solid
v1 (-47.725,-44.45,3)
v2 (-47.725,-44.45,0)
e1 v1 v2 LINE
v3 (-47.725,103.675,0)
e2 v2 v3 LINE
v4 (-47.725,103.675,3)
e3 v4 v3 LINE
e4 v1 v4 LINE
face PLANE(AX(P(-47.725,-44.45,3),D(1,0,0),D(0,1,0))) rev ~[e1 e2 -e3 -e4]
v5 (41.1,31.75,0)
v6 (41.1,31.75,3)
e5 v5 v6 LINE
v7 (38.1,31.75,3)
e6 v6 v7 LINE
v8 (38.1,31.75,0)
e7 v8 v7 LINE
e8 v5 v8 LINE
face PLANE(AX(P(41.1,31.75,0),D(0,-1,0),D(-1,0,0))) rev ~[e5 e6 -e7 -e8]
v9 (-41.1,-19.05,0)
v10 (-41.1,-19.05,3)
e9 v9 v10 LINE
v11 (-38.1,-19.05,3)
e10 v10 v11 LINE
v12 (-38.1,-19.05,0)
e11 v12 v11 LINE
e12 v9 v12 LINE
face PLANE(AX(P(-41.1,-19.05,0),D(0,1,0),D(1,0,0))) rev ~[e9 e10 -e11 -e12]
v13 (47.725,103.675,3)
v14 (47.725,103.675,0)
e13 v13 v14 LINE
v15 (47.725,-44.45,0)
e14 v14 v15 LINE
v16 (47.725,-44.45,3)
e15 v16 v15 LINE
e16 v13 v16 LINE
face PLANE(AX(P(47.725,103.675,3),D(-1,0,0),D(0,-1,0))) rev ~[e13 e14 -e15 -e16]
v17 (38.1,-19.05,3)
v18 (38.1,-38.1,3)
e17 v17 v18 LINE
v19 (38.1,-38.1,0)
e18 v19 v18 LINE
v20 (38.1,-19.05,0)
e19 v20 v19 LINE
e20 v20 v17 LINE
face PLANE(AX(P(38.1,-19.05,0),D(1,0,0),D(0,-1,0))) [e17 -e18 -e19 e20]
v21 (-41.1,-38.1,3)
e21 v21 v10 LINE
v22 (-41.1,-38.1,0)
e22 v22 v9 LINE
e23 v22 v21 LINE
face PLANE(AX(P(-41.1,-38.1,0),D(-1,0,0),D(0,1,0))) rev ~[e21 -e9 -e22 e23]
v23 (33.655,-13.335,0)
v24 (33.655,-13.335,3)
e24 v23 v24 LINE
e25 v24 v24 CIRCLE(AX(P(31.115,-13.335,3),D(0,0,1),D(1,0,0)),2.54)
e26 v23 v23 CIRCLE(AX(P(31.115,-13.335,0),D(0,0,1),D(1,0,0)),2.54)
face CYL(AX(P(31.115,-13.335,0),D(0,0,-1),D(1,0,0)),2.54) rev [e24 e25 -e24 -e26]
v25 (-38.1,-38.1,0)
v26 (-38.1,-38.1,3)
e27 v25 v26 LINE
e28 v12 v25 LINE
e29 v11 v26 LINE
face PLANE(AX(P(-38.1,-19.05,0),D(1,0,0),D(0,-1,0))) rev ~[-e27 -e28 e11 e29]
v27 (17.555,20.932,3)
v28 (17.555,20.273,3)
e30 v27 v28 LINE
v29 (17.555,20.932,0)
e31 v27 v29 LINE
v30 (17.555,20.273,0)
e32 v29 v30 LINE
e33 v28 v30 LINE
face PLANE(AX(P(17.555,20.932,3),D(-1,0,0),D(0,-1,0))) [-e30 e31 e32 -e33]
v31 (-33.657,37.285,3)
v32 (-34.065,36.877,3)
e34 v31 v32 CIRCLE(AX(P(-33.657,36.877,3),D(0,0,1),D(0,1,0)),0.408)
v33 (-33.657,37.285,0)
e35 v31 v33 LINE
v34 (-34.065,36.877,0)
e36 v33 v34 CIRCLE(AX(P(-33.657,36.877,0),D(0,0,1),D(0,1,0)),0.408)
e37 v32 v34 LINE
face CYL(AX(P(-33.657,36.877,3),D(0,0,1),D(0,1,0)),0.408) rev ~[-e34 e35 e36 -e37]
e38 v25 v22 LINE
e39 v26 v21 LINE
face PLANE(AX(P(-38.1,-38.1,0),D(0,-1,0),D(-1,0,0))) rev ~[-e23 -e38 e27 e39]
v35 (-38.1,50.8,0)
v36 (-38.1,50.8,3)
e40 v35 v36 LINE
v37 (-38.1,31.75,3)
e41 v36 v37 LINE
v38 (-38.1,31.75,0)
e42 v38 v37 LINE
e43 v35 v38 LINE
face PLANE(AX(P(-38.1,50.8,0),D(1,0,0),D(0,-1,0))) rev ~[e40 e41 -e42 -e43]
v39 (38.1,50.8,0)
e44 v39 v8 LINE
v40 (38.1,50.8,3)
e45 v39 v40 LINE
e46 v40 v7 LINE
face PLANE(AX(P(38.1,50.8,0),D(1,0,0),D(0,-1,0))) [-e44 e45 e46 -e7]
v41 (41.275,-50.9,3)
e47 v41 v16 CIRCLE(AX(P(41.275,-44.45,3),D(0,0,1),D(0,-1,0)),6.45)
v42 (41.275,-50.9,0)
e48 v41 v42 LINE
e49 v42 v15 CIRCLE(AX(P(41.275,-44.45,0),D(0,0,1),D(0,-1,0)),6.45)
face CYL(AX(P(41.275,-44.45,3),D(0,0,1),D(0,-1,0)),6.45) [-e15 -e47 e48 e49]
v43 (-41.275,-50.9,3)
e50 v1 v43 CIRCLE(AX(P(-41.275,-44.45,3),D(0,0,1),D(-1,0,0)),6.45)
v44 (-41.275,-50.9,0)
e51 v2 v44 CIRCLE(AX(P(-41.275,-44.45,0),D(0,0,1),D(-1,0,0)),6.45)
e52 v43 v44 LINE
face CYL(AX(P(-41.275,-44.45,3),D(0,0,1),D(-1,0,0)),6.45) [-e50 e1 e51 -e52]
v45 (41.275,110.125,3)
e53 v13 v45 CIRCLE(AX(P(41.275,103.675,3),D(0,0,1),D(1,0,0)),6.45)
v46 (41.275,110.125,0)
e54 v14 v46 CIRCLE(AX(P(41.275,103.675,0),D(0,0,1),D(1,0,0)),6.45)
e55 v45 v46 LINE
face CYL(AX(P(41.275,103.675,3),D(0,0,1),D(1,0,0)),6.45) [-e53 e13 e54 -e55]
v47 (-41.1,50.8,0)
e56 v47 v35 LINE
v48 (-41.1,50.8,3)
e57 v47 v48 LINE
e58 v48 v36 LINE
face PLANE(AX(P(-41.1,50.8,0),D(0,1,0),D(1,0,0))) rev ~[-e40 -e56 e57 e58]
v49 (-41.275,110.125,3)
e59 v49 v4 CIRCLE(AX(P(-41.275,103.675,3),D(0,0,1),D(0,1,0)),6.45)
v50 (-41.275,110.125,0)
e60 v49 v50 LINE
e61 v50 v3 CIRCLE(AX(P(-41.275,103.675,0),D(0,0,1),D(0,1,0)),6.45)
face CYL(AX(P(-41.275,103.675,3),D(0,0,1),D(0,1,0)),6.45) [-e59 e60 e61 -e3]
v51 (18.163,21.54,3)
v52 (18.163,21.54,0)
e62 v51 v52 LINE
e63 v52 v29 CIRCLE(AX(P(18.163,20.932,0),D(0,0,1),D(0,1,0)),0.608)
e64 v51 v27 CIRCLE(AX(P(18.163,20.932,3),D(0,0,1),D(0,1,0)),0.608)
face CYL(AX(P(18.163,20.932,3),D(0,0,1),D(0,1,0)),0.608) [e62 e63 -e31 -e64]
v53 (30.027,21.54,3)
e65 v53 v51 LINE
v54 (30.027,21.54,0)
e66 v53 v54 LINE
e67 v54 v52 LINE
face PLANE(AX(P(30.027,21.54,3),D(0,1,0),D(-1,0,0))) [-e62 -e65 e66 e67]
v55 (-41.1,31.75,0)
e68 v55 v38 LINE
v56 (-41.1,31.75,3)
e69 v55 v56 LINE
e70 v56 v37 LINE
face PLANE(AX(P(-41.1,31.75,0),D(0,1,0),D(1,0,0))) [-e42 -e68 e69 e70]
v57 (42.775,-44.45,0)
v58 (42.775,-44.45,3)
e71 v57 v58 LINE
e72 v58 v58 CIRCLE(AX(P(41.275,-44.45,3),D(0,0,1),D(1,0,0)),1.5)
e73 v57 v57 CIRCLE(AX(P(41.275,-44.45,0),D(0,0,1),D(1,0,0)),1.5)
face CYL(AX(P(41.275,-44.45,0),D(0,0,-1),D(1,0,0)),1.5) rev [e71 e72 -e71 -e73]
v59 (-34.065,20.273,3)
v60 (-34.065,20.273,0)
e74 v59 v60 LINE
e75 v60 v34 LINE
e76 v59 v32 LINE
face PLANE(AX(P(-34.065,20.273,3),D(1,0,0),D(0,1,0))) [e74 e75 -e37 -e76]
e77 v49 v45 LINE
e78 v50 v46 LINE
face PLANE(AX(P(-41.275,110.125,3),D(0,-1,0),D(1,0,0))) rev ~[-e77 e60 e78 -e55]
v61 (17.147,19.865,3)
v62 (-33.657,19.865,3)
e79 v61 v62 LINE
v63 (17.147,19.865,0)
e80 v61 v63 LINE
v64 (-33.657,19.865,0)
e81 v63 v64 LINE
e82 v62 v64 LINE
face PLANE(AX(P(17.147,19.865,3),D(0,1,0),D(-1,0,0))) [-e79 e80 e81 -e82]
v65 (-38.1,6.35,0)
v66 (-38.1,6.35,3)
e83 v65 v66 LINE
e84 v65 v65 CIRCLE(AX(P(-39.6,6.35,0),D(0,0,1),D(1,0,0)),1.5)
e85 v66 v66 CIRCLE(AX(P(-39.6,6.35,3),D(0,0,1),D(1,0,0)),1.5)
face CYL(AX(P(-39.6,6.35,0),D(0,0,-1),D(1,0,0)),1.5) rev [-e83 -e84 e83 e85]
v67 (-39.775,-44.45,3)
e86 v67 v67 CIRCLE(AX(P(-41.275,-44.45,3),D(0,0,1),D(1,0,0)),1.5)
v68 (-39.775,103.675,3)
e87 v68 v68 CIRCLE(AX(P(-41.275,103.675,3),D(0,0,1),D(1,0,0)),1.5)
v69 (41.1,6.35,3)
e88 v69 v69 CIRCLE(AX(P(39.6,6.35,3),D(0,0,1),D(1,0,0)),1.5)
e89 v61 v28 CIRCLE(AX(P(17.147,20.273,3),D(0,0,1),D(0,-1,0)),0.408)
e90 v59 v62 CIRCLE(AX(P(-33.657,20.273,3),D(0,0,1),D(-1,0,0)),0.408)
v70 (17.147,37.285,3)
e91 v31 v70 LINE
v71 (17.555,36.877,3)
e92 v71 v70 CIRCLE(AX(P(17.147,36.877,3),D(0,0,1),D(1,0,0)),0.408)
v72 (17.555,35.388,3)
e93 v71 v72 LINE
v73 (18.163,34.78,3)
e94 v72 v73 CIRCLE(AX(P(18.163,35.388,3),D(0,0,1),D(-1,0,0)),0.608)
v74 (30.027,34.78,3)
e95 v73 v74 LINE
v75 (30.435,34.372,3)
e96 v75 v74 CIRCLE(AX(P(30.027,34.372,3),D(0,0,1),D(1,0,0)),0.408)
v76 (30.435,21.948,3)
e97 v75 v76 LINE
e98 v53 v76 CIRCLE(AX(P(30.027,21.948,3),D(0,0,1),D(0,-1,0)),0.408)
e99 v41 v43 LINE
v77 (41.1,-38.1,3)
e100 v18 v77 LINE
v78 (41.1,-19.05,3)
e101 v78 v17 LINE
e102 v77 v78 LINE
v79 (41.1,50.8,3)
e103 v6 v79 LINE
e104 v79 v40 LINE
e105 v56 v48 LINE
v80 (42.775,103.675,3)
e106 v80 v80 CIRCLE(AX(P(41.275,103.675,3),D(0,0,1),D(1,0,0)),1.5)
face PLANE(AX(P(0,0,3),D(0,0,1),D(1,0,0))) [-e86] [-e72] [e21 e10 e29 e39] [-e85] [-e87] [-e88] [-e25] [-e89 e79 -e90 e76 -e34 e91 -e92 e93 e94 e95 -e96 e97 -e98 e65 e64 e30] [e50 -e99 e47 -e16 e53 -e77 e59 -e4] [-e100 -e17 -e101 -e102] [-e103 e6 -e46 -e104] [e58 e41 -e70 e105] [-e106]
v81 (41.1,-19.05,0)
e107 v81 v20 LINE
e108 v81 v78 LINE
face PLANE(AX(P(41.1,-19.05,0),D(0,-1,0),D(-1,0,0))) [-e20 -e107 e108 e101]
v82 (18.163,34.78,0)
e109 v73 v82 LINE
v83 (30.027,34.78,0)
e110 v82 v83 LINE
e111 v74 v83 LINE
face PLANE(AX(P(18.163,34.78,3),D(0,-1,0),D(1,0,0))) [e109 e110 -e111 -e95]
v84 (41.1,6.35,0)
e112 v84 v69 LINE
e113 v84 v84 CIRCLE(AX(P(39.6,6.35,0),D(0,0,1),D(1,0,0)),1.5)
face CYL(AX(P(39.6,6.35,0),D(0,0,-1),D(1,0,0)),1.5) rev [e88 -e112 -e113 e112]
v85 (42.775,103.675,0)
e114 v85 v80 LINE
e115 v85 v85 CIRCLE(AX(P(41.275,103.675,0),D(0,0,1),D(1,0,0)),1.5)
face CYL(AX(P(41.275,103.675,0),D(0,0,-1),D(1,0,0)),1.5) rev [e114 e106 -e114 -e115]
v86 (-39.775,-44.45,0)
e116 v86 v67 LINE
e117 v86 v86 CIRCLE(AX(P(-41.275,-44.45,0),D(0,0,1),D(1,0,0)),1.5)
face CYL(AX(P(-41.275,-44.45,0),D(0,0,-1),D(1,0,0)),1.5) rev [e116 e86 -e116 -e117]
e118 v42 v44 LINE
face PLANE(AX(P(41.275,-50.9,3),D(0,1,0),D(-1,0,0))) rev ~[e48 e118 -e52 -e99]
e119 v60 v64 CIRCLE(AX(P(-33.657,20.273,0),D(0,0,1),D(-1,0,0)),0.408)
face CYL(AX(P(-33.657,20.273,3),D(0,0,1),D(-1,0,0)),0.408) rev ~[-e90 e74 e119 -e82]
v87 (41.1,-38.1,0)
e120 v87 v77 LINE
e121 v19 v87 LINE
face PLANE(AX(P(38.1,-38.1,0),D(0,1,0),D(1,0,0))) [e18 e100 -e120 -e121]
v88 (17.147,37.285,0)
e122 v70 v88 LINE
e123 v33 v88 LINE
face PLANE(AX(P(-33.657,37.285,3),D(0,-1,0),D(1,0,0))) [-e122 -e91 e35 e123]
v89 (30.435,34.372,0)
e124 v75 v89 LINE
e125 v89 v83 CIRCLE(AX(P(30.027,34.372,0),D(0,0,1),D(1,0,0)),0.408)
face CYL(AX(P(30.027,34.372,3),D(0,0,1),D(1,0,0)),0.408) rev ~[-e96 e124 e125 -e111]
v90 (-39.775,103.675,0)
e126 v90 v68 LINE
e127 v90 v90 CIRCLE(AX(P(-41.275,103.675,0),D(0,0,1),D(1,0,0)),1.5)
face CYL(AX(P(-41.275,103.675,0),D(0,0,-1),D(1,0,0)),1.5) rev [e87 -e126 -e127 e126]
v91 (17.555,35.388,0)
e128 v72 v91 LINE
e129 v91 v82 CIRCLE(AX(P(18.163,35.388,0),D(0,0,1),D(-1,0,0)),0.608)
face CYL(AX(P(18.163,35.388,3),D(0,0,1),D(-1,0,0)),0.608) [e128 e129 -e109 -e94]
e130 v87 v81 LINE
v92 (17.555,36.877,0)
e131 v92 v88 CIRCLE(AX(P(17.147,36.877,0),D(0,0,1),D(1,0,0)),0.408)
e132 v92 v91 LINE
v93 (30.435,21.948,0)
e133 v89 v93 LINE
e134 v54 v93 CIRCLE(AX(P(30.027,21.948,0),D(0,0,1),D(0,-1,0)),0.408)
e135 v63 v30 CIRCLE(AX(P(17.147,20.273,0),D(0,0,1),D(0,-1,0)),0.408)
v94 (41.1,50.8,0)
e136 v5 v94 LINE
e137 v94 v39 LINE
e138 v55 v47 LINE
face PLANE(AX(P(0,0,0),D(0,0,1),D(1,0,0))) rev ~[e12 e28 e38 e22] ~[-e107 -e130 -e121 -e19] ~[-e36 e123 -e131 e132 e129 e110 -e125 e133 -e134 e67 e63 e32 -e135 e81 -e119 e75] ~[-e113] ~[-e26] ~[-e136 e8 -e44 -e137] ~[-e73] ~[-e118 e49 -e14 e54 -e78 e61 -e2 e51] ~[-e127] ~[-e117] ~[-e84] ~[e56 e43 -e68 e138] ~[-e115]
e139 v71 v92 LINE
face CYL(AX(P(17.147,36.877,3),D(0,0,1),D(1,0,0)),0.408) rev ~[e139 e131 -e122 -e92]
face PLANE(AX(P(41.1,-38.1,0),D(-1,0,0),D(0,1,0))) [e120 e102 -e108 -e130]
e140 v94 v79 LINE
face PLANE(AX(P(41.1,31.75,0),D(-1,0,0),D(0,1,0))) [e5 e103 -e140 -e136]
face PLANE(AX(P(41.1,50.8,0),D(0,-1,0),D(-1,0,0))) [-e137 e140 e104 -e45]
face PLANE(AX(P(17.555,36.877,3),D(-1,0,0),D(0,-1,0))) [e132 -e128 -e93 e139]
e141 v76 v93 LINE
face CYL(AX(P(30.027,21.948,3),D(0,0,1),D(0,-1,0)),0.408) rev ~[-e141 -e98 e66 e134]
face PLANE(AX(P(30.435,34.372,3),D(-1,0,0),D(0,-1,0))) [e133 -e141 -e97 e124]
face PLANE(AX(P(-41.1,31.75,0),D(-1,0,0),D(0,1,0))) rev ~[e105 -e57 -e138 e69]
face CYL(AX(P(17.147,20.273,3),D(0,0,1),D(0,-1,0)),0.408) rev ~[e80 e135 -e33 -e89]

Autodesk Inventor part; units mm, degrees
ref_plane "YZ Plane" through (0, 0, 0) normal (1, 0, 0) x (0, 1, 0)
ref_plane "XZ Plane" through (0, 0, 0) normal (0, 1, 0) x (-1, 0, 0)
ref_plane "XY Plane" through (0, 0, 0) normal (0, 0, 1) x (1, 0, 0)
sketch "Sketch1" plane through (0, 0, 0) normal (0, 0, 1) x (1, 0, 0)
  line L0 (30.48, -47.625) -> (-30.48, -47.625) construction
  line L1 (-34.925, -43.18) -> (-34.925, 43.18) construction
  line L2 (-30.48, 47.625) -> (30.48, 47.625) construction
  line L3 (34.925, 43.18) -> (34.925, -43.18) construction
  line L4 (34.925, -47.625) -> (-34.925, 47.625) construction
  line L5 (-34.925, -47.625) -> (34.925, 47.625) construction
  arc A0 (-30.48, 47.625) -> (-34.925, 43.18) centre (-30.48, 43.18) ccw construction
  arc A1 (34.925, 43.18) -> (30.48, 47.625) centre (30.48, 43.18) ccw construction
  arc A2 (30.48, -47.625) -> (34.925, -43.18) centre (30.48, -43.18) ccw construction
  arc A3 (-34.925, -43.18) -> (-30.48, -47.625) centre (-30.48, -43.18) ccw construction
  circle A4 centre (-30.48, 43.18) radius 1.5
  circle A5 centre (30.48, 43.18) radius 1.5
  circle A6 centre (-30.48, -43.18) radius 1.5
  circle A7 centre (30.48, -43.18) radius 1.5
  circle A8 centre (0, -22.86) radius 6.35
  line L6 (-3.175, -7.62) -> (3.175, -7.62) construction
  line L7 (-3.175, -12.065) -> (3.175, -12.065)
  line L8 (3.175, -3.175) -> (-3.175, -3.175)
  arc A9 (-3.175, -3.175) -> (-3.175, -12.065) centre (-3.175, -7.62) ccw
  arc A10 (3.175, -12.065) -> (3.175, -3.175) centre (3.175, -7.62) ccw
  line L9 (-35.3, 57.15) -> (35.3, 57.15) construction
  line L10 (35.3, 57.15) -> (35.3, 106.85) construction
  line L11 (35.3, 106.85) -> (-35.3, 106.85) construction
  line L12 (-35.3, 106.85) -> (-35.3, 57.15) construction
  circle A11 centre (-33.25, 104.75) radius 1.25
  circle A12 centre (33.25, 104.75) radius 1.25
  circle A13 centre (33.25, 59.25) radius 1.25
  circle A14 centre (-33.25, 59.25) radius 1.25
  line L13 (-41.275, 110.025) -> (41.275, 110.025)
  line L14 (47.625, 103.675) -> (47.625, -44.45)
  line L15 (41.275, -50.8) -> (-41.275, -50.8)
  line L16 (-47.625, -44.45) -> (-47.625, 103.675)
  arc A15 (-41.275, 110.025) -> (-47.625, 103.675) centre (-41.275, 103.675) ccw
  arc A16 (47.625, 103.675) -> (41.275, 110.025) centre (41.275, 103.675) ccw
  arc A17 (41.275, -50.8) -> (47.625, -44.45) centre (41.275, -44.45) ccw
  arc A18 (-47.625, -44.45) -> (-41.275, -50.8) centre (-41.275, -44.45) ccw
  circle A19 centre (-41.275, 103.675) radius 1.5
  circle A20 centre (-41.275, -44.45) radius 1.5
  circle A21 centre (41.275, -44.45) radius 1.5
  circle A22 centre (41.275, 103.675) radius 1.5
  line L17 (-0.635, -22.225) -> (-0.635, -20.32)
  line L18 (-0.635, -20.32) -> (-3.175, -22.86)
  line L19 (-3.175, -22.86) -> (-0.635, -25.4)
  line L20 (-0.635, -25.4) -> (-0.635, -23.495)
  line L21 (-0.635, -23.495) -> (3.175, -23.495)
  line L22 (3.175, -23.495) -> (3.175, -20.32)
  line L23 (3.175, -20.32) -> (1.905, -20.32)
  line L24 (1.905, -20.32) -> (1.905, -22.225)
  line L25 (1.905, -22.225) -> (-0.635, -22.225)
  line L26 (-2.54, -8.89) -> (2.54, -8.89)
  line L27 (2.54, -8.89) -> (2.54, -7.62)
  line L28 (2.54, -7.62) -> (0, -5.08)
  line L29 (0, -5.08) -> (-2.54, -7.62)
  line L30 (-2.54, -7.62) -> (-2.54, -8.89)
  arc A23 (-19.685, -26.035) -> (-10.795, -26.035) centre (-15.24, -26.035) ccw
  line L31 (-19.685, -19.685) -> (-19.685, -26.035)
  arc A24 (-10.795, -19.685) -> (-19.685, -19.685) centre (-15.24, -19.685) ccw
  line L32 (-10.795, -26.035) -> (-10.795, -19.685)
  line L33 (-13.97, -25.4) -> (-13.97, -20.32)
  line L34 (-13.97, -20.32) -> (-15.24, -20.32)
  line L35 (-15.24, -20.32) -> (-17.78, -22.86)
  line L36 (-17.78, -22.86) -> (-15.24, -25.4)
  line L37 (-15.24, -25.4) -> (-13.97, -25.4)
  arc A25 (3.175, -42.545) -> (3.175, -33.655) centre (3.175, -38.1) ccw
  line L38 (-3.175, -42.545) -> (3.175, -42.545)
  arc A26 (-3.175, -33.655) -> (-3.175, -42.545) centre (-3.175, -38.1) ccw
  line L39 (3.175, -33.655) -> (-3.175, -33.655)
  line L40 (2.54, -36.83) -> (-2.54, -36.83)
  line L41 (-2.54, -36.83) -> (-2.54, -38.1)
  line L42 (-2.54, -38.1) -> (0, -40.64)
  line L43 (0, -40.64) -> (2.54, -38.1)
  line L44 (2.54, -38.1) -> (2.54, -36.83)
  arc A27 (19.685, -19.685) -> (10.795, -19.685) centre (15.24, -19.685) ccw
  line L45 (19.685, -26.035) -> (19.685, -19.685)
  arc A28 (10.795, -26.035) -> (19.685, -26.035) centre (15.24, -26.035) ccw
  line L46 (10.795, -19.685) -> (10.795, -26.035)
  line L47 (13.97, -20.32) -> (13.97, -25.4)
  line L48 (13.97, -25.4) -> (15.24, -25.4)
  line L49 (15.24, -25.4) -> (17.78, -22.86)
  line L50 (17.78, -22.86) -> (15.24, -20.32)
  line L51 (15.24, -20.32) -> (13.97, -20.32)
  line L52 (5.205, 21.035) -> (16.385, 21.035) construction
  line L53 (16.385, 21.035) -> (16.385, 36.115) construction
  line L54 (16.385, 36.115) -> (5.205, 36.115) construction
  line L55 (5.205, 36.115) -> (5.205, 21.035) construction
  line L56 (5.205, 21.035) -> (16.385, 36.115) construction
  line L57 (16.385, 21.035) -> (5.205, 36.115) construction
  line L58 (20.265, 22.71) -> (29.265, 22.71) construction
  line L59 (29.265, 22.71) -> (29.265, 33.61) construction
  line L60 (29.265, 33.61) -> (20.265, 33.61) construction
  line L61 (20.265, 33.61) -> (20.265, 22.71) construction
  line L62 (-7.495, 36.115) -> (-7.495, 21.035) construction
  line L63 (3.685, 36.115) -> (-7.495, 36.115) construction
  line L64 (3.685, 21.035) -> (3.685, 36.115) construction
  line L65 (-7.495, 21.035) -> (3.685, 21.035) construction
  line L66 (-20.195, 36.115) -> (-20.195, 21.035) construction
  line L67 (-9.015, 36.115) -> (-20.195, 36.115) construction
  line L68 (-9.015, 21.035) -> (-9.015, 36.115) construction
  line L69 (-20.195, 21.035) -> (-9.015, 21.035) construction
  line L70 (-32.895, 36.115) -> (-32.895, 21.035) construction
  line L71 (-21.715, 36.115) -> (-32.895, 36.115) construction
  line L72 (-21.715, 21.035) -> (-21.715, 36.115) construction
  line L73 (-32.895, 21.035) -> (-21.715, 21.035) construction
  line L74 (-33.657, 37.385) -> (17.147, 37.385)
  line L75 (17.655, 36.877) -> (17.655, 35.388)
  line L76 (18.163, 34.88) -> (30.027, 34.88)
  line L77 (30.535, 34.372) -> (30.535, 21.948)
  line L78 (30.027, 21.44) -> (18.163, 21.44)
  line L79 (17.655, 20.932) -> (17.655, 20.273)
  line L80 (17.147, 19.765) -> (-33.657, 19.765)
  line L81 (-34.165, 20.273) -> (-34.165, 36.877)
  arc A29 (-33.657, 37.385) -> (-34.165, 36.877) centre (-33.657, 36.877) ccw
  arc A30 (17.655, 36.877) -> (17.147, 37.385) centre (17.147, 36.877) ccw
  arc A31 (17.655, 35.388) -> (18.163, 34.88) centre (18.163, 35.388) ccw
  arc A32 (30.535, 34.372) -> (30.027, 34.88) centre (30.027, 34.372) ccw
  arc A33 (30.027, 21.44) -> (30.535, 21.948) centre (30.027, 21.948) ccw
  arc A34 (18.163, 21.44) -> (17.655, 20.932) centre (18.163, 20.932) ccw
  arc A35 (17.147, 19.765) -> (17.655, 20.273) centre (17.147, 20.273) ccw
  arc A36 (-34.165, 20.273) -> (-33.657, 19.765) centre (-33.657, 20.273) ccw
  line L82 (-41.1, 50.8) -> (-38.1, 50.8)
  line L83 (-38.1, 50.8) -> (-38.1, 31.75)
  line L84 (-38.1, -38.1) -> (-41.1, -38.1)
  line L85 (-41.1, -38.1) -> (-41.1, -19.05)
  line L86 (-41.1, 31.75) -> (-38.1, 31.75)
  line L87 (-41.1, -19.05) -> (-38.1, -19.05)
  line L88 (-41.1, 31.75) -> (-41.1, 50.8)
  line L89 (-41.1, -19.05) -> (-41.1, 31.75) construction
  line L90 (-38.1, -19.05) -> (-38.1, -38.1)
  line L91 (-38.1, 31.75) -> (-38.1, -19.05) construction
  circle A37 centre (-39.6, 6.35) radius 1.5
  line L92 (0, -68.4111) -> (0, 116.4523)
  line L93 (41.1, 50.8) -> (38.1, 50.8)
  line L94 (38.1, 50.8) -> (38.1, 31.75)
  line L95 (38.1, -38.1) -> (41.1, -38.1)
  line L96 (41.1, -38.1) -> (41.1, -19.05)
  line L97 (41.1, 31.75) -> (38.1, 31.75)
  line L98 (41.1, -19.05) -> (38.1, -19.05)
  line L99 (41.1, 31.75) -> (41.1, 50.8)
  line L100 (38.1, -19.05) -> (38.1, -38.1)
  circle A38 centre (39.6, 6.35) radius 1.5
  circle A39 centre (31.115, -13.335) radius 2.54
  point P0 (0, 0)
  point P1 (0, 0)
  point P2 (0, -7.62)
  point P3 (0, 57.15)
  point P4 (0, 0)
  point P5 (35.3, 82)
  point P6 (0, -8.89)
  point P7 (-13.97, -22.86)
  point P8 (0, -36.83)
  point P9 (13.97, -22.86)
  point P10 (10.795, 28.575)
  point P11 (24.765, 29.21)
  point P12 (24.765, 33.61)
  point P13 (-38.1, 6.35)
  point P14 (-39.6, 50.8)
  dimension "d0" = 69.85
  dimension "d1" = 95.25
  dimension "d2" = 4.445
  dimension "d3" = 3
  dimension "d4" = 24.765
  dimension "d5" = 12.7
  dimension "d6" = 6.35
  dimension "d7" = 8.89
  dimension "d8" = 15.24
  dimension "d9" = 70.6
  dimension "d10" = 49.7
  dimension "d11" = 9.525
  dimension "d12" = 66.5
  dimension "d13" = 33.25
  dimension "d14" = 45.5
  dimension "d15" = 22.75
  dimension "d16" = 2.5
  dimension "d17" = 3.175
  dimension "d18" = 12.7
  dimension "d19" = 3.175
  dimension "d20" = 12.7
  dimension "d21" = 6.35
  dimension "d22" = 3
  dimension "d25" = 1.27
  dimension "d26" = 1.27
  dimension "d27" = 0.635
  dimension "d28" = 0.635
  dimension "d29" = 5.08
  dimension "d30" = 2.54
  dimension "d31" = 3.81
  dimension "d32" = 3.175
  dimension "d33" = 5.08
  dimension "d34" = 1.27
  dimension "d35" = 2.54
  dimension "d38" = 360
  dimension "d42" = 11.18
  dimension "d43" = 15.08
  dimension "d44" = 19.05
  dimension "d45" = 24.13
  dimension "d54" = 6.5
  dimension "d55" = 10.9
  dimension "d56" = 9
  dimension "d57" = 10.16
  dimension "d58" = 18.415
  dimension "d61" = 12.7
  dimension "d66" = 1.27
  dimension "d67" = 1.27
  dimension "d68" = 1.27
  dimension "d69" = 1.27
  dimension "d70" = 1.27
  dimension "d71" = 1.27
  dimension "d72" = 1.27
  dimension "d73" = 0.508
  dimension "d74" = 3
  dimension "d76" = 12.7
  dimension "d77" = 88.9
  dimension "d78" = 19.05
  dimension "d79" = 19.05
  dimension "d80" = 3
  dimension "d81" = 76.2
  dimension "d88" = 34.29
  dimension "d89" = 3.81
  dimension "d90" = 5.08
extrude "Extrusion3" add sketch "Sketch1" along normal blind 3 contours A4 | A5 | A6 | A7 | A8 L92 L21 L22 L23 L24 L25 | A8 L92 L7 A10 L8 L80 A35 L79 A34 L78 A33 L77 A32 L76 A31 L75 A30 L74 L13 A16 L14 A17 L15 L38 A25 L39 | L92 L25 L17 L18 L19 L20 L21 A8 | A8 L92 L39 A26 L38 L15 A18 L16 A15 L13 L74 A29 L81 A36 L80 L8 A9 L7 | L92 L21 L20 L19 L18 L17 L25 | L25 L24 L23 L22 L21 L92 | L92 L26 L27 L28 L8 A10 L7 | L7 A9 L8 L92 L29 L30 L26 | L92 L40 L41 L42 L38 A26 L39 | L39 A25 L38 L92 L43 L44 L40 | L92 L28 L27 L26 | L26 L30 L29 L92 | L92 L42 L41 L40 | L40 L44 L43 L92 | A11 | A12 | A13 | A14 | L31 A24 L32 A23 | L37 L36 L35 L34 L33 | L45 A28 L46 A27 | L51 L50 L49 L48 L47
sketch "Sketch2" plane through (0, 0, 3) normal (0, 0, 1) x (1, 0, 0)
  arc A0 (17.655, 36.877) -> (17.147, 37.385) centre (17.147, 36.877) ccw projected
  line L0 (17.655, 36.877) -> (17.655, 35.388) projected
  arc A1 (17.655, 35.388) -> (18.163, 34.88) centre (18.163, 35.388) ccw projected
  line L1 (18.163, 34.88) -> (30.027, 34.88) projected
  arc A2 (30.535, 34.372) -> (30.027, 34.88) centre (30.027, 34.372) ccw projected
  line L2 (30.535, 34.372) -> (30.535, 21.948) projected
  arc A3 (30.027, 21.44) -> (30.535, 21.948) centre (30.027, 21.948) ccw projected
  line L3 (30.027, 21.44) -> (18.163, 21.44) projected
  arc A4 (18.163, 21.44) -> (17.655, 20.932) centre (18.163, 20.932) ccw projected
  line L4 (17.655, 20.932) -> (17.655, 20.273) projected
  arc A5 (17.147, 19.765) -> (17.655, 20.273) centre (17.147, 20.273) ccw projected
  line L5 (17.147, 19.765) -> (-33.657, 19.765) projected
  arc A6 (-34.165, 20.273) -> (-33.657, 19.765) centre (-33.657, 20.273) ccw projected
  line L6 (-34.165, 20.273) -> (-34.165, 36.877) projected
  arc A7 (-33.657, 37.385) -> (-34.165, 36.877) centre (-33.657, 36.877) ccw projected
  line L7 (-33.657, 37.385) -> (17.147, 37.385) projected
  line L8 (41.1, -19.05) -> (41.1, -38.1) projected
  line L9 (41.1, -38.1) -> (38.1, -38.1) projected
  line L10 (38.1, -38.1) -> (38.1, -19.05) projected
  line L11 (38.1, -19.05) -> (41.1, -19.05) projected
  line L12 (38.1, 31.75) -> (38.1, 50.8) projected
  line L13 (38.1, 50.8) -> (41.1, 50.8) projected
  line L14 (41.1, 50.8) -> (41.1, 31.75) projected
  line L15 (41.1, 31.75) -> (38.1, 31.75) projected
  line L16 (-41.1, -38.1) -> (-41.1, -19.05) projected
  line L17 (-41.1, -19.05) -> (-38.1, -19.05) projected
  line L18 (-38.1, -19.05) -> (-38.1, -38.1) projected
  line L19 (-38.1, -38.1) -> (-41.1, -38.1) projected
  line L20 (-38.1, 50.8) -> (-38.1, 31.75) projected
  line L21 (-38.1, 31.75) -> (-41.1, 31.75) projected
  line L22 (-41.1, 31.75) -> (-41.1, 50.8) projected
  line L23 (-41.1, 50.8) -> (-38.1, 50.8) projected
  circle A8 centre (39.6, 6.35) radius 1.5 projected
  circle A9 centre (-39.6, 6.35) radius 1.5 projected
  circle A10 centre (41.275, 103.675) radius 1.5 projected
  circle A11 centre (41.275, -44.45) radius 1.5 projected
  circle A12 centre (-41.275, -44.45) radius 1.5 projected
  circle A13 centre (-41.275, 103.675) radius 1.5 projected
  line L24 (41.275, 110.025) -> (-41.275, 110.025) projected
  arc A14 (-41.275, 110.025) -> (-47.625, 103.675) centre (-41.275, 103.675) ccw projected
  line L25 (-47.625, 103.675) -> (-47.625, -44.45) projected
  arc A15 (-47.625, -44.45) -> (-41.275, -50.8) centre (-41.275, -44.45) ccw projected
  line L26 (-41.275, -50.8) -> (41.275, -50.8) projected
  arc A16 (41.275, -50.8) -> (47.625, -44.45) centre (41.275, -44.45) ccw projected
  line L27 (47.625, -44.45) -> (47.625, 103.675) projected
  arc A17 (47.625, 103.675) -> (41.275, 110.025) centre (41.275, 103.675) ccw projected
  line L28 (-47.725, -44.45) -> (-47.725, 103.675)
  arc A18 (-41.275, 110.125) -> (-47.725, 103.675) centre (-41.275, 103.675) ccw
  line L29 (-41.275, 110.125) -> (41.275, 110.125)
  arc A19 (47.725, 103.675) -> (41.275, 110.125) centre (41.275, 103.675) ccw
  line L30 (47.725, 103.675) -> (47.725, -44.45)
  arc A20 (41.275, -50.9) -> (47.725, -44.45) centre (41.275, -44.45) ccw
  line L31 (41.275, -50.9) -> (-41.275, -50.9)
  arc A21 (-47.725, -44.45) -> (-41.275, -50.9) centre (-41.275, -44.45) ccw
  arc A22 (17.555, 36.877) -> (17.147, 37.285) centre (17.147, 36.877) ccw
  line L32 (17.555, 36.877) -> (17.555, 35.388)
  arc A23 (17.555, 35.388) -> (18.163, 34.78) centre (18.163, 35.388) ccw
  line L33 (18.163, 34.78) -> (30.027, 34.78)
  arc A24 (30.435, 34.372) -> (30.027, 34.78) centre (30.027, 34.372) ccw
  line L34 (30.435, 34.372) -> (30.435, 21.948)
  arc A25 (30.027, 21.54) -> (30.435, 21.948) centre (30.027, 21.948) ccw
  line L35 (30.027, 21.54) -> (18.163, 21.54)
  arc A26 (18.163, 21.54) -> (17.555, 20.932) centre (18.163, 20.932) ccw
  line L36 (17.555, 20.932) -> (17.555, 20.273)
  arc A27 (17.147, 19.865) -> (17.555, 20.273) centre (17.147, 20.273) ccw
  line L37 (17.147, 19.865) -> (-33.657, 19.865)
  arc A28 (-34.065, 20.273) -> (-33.657, 19.865) centre (-33.657, 20.273) ccw
  line L38 (-34.065, 20.273) -> (-34.065, 36.877)
  arc A29 (-33.657, 37.285) -> (-34.065, 36.877) centre (-33.657, 36.877) ccw
  line L39 (-33.657, 37.285) -> (17.147, 37.285)
  point P0 (0, 0)
  dimension "d84" = 0.1
  dimension "d85" = 0.1
extrude "Extrusion4" add sketch "Sketch2" against normal up to surface (3 mm away) contours L0 A1 L1 A2 L2 A3 L3 A4 L4 A5 L5 A6 L6 A7 L7 A0 | L28 A18 L29 A19 L30 A20 L31 A21
equation "\"d13\" = 0.5 * d12"
equation "\"d15\" = 0.5 * d14"
equation "\"d19\" = d17"
equation "\"d20\" = d18"
equation "\"d28\" = 0.5 * d26"
equation "\"d67\" = d66"
equation "\"d68\" = d66"
equation "\"d69\" = d66"
equation "\"d70\" = d66"
equation "\"d71\" = d66"
equation "\"d72\" = d66"
equation "\"d78\" = d79"
equation "\"d85\" = d84"
properties part number "BackCover"
